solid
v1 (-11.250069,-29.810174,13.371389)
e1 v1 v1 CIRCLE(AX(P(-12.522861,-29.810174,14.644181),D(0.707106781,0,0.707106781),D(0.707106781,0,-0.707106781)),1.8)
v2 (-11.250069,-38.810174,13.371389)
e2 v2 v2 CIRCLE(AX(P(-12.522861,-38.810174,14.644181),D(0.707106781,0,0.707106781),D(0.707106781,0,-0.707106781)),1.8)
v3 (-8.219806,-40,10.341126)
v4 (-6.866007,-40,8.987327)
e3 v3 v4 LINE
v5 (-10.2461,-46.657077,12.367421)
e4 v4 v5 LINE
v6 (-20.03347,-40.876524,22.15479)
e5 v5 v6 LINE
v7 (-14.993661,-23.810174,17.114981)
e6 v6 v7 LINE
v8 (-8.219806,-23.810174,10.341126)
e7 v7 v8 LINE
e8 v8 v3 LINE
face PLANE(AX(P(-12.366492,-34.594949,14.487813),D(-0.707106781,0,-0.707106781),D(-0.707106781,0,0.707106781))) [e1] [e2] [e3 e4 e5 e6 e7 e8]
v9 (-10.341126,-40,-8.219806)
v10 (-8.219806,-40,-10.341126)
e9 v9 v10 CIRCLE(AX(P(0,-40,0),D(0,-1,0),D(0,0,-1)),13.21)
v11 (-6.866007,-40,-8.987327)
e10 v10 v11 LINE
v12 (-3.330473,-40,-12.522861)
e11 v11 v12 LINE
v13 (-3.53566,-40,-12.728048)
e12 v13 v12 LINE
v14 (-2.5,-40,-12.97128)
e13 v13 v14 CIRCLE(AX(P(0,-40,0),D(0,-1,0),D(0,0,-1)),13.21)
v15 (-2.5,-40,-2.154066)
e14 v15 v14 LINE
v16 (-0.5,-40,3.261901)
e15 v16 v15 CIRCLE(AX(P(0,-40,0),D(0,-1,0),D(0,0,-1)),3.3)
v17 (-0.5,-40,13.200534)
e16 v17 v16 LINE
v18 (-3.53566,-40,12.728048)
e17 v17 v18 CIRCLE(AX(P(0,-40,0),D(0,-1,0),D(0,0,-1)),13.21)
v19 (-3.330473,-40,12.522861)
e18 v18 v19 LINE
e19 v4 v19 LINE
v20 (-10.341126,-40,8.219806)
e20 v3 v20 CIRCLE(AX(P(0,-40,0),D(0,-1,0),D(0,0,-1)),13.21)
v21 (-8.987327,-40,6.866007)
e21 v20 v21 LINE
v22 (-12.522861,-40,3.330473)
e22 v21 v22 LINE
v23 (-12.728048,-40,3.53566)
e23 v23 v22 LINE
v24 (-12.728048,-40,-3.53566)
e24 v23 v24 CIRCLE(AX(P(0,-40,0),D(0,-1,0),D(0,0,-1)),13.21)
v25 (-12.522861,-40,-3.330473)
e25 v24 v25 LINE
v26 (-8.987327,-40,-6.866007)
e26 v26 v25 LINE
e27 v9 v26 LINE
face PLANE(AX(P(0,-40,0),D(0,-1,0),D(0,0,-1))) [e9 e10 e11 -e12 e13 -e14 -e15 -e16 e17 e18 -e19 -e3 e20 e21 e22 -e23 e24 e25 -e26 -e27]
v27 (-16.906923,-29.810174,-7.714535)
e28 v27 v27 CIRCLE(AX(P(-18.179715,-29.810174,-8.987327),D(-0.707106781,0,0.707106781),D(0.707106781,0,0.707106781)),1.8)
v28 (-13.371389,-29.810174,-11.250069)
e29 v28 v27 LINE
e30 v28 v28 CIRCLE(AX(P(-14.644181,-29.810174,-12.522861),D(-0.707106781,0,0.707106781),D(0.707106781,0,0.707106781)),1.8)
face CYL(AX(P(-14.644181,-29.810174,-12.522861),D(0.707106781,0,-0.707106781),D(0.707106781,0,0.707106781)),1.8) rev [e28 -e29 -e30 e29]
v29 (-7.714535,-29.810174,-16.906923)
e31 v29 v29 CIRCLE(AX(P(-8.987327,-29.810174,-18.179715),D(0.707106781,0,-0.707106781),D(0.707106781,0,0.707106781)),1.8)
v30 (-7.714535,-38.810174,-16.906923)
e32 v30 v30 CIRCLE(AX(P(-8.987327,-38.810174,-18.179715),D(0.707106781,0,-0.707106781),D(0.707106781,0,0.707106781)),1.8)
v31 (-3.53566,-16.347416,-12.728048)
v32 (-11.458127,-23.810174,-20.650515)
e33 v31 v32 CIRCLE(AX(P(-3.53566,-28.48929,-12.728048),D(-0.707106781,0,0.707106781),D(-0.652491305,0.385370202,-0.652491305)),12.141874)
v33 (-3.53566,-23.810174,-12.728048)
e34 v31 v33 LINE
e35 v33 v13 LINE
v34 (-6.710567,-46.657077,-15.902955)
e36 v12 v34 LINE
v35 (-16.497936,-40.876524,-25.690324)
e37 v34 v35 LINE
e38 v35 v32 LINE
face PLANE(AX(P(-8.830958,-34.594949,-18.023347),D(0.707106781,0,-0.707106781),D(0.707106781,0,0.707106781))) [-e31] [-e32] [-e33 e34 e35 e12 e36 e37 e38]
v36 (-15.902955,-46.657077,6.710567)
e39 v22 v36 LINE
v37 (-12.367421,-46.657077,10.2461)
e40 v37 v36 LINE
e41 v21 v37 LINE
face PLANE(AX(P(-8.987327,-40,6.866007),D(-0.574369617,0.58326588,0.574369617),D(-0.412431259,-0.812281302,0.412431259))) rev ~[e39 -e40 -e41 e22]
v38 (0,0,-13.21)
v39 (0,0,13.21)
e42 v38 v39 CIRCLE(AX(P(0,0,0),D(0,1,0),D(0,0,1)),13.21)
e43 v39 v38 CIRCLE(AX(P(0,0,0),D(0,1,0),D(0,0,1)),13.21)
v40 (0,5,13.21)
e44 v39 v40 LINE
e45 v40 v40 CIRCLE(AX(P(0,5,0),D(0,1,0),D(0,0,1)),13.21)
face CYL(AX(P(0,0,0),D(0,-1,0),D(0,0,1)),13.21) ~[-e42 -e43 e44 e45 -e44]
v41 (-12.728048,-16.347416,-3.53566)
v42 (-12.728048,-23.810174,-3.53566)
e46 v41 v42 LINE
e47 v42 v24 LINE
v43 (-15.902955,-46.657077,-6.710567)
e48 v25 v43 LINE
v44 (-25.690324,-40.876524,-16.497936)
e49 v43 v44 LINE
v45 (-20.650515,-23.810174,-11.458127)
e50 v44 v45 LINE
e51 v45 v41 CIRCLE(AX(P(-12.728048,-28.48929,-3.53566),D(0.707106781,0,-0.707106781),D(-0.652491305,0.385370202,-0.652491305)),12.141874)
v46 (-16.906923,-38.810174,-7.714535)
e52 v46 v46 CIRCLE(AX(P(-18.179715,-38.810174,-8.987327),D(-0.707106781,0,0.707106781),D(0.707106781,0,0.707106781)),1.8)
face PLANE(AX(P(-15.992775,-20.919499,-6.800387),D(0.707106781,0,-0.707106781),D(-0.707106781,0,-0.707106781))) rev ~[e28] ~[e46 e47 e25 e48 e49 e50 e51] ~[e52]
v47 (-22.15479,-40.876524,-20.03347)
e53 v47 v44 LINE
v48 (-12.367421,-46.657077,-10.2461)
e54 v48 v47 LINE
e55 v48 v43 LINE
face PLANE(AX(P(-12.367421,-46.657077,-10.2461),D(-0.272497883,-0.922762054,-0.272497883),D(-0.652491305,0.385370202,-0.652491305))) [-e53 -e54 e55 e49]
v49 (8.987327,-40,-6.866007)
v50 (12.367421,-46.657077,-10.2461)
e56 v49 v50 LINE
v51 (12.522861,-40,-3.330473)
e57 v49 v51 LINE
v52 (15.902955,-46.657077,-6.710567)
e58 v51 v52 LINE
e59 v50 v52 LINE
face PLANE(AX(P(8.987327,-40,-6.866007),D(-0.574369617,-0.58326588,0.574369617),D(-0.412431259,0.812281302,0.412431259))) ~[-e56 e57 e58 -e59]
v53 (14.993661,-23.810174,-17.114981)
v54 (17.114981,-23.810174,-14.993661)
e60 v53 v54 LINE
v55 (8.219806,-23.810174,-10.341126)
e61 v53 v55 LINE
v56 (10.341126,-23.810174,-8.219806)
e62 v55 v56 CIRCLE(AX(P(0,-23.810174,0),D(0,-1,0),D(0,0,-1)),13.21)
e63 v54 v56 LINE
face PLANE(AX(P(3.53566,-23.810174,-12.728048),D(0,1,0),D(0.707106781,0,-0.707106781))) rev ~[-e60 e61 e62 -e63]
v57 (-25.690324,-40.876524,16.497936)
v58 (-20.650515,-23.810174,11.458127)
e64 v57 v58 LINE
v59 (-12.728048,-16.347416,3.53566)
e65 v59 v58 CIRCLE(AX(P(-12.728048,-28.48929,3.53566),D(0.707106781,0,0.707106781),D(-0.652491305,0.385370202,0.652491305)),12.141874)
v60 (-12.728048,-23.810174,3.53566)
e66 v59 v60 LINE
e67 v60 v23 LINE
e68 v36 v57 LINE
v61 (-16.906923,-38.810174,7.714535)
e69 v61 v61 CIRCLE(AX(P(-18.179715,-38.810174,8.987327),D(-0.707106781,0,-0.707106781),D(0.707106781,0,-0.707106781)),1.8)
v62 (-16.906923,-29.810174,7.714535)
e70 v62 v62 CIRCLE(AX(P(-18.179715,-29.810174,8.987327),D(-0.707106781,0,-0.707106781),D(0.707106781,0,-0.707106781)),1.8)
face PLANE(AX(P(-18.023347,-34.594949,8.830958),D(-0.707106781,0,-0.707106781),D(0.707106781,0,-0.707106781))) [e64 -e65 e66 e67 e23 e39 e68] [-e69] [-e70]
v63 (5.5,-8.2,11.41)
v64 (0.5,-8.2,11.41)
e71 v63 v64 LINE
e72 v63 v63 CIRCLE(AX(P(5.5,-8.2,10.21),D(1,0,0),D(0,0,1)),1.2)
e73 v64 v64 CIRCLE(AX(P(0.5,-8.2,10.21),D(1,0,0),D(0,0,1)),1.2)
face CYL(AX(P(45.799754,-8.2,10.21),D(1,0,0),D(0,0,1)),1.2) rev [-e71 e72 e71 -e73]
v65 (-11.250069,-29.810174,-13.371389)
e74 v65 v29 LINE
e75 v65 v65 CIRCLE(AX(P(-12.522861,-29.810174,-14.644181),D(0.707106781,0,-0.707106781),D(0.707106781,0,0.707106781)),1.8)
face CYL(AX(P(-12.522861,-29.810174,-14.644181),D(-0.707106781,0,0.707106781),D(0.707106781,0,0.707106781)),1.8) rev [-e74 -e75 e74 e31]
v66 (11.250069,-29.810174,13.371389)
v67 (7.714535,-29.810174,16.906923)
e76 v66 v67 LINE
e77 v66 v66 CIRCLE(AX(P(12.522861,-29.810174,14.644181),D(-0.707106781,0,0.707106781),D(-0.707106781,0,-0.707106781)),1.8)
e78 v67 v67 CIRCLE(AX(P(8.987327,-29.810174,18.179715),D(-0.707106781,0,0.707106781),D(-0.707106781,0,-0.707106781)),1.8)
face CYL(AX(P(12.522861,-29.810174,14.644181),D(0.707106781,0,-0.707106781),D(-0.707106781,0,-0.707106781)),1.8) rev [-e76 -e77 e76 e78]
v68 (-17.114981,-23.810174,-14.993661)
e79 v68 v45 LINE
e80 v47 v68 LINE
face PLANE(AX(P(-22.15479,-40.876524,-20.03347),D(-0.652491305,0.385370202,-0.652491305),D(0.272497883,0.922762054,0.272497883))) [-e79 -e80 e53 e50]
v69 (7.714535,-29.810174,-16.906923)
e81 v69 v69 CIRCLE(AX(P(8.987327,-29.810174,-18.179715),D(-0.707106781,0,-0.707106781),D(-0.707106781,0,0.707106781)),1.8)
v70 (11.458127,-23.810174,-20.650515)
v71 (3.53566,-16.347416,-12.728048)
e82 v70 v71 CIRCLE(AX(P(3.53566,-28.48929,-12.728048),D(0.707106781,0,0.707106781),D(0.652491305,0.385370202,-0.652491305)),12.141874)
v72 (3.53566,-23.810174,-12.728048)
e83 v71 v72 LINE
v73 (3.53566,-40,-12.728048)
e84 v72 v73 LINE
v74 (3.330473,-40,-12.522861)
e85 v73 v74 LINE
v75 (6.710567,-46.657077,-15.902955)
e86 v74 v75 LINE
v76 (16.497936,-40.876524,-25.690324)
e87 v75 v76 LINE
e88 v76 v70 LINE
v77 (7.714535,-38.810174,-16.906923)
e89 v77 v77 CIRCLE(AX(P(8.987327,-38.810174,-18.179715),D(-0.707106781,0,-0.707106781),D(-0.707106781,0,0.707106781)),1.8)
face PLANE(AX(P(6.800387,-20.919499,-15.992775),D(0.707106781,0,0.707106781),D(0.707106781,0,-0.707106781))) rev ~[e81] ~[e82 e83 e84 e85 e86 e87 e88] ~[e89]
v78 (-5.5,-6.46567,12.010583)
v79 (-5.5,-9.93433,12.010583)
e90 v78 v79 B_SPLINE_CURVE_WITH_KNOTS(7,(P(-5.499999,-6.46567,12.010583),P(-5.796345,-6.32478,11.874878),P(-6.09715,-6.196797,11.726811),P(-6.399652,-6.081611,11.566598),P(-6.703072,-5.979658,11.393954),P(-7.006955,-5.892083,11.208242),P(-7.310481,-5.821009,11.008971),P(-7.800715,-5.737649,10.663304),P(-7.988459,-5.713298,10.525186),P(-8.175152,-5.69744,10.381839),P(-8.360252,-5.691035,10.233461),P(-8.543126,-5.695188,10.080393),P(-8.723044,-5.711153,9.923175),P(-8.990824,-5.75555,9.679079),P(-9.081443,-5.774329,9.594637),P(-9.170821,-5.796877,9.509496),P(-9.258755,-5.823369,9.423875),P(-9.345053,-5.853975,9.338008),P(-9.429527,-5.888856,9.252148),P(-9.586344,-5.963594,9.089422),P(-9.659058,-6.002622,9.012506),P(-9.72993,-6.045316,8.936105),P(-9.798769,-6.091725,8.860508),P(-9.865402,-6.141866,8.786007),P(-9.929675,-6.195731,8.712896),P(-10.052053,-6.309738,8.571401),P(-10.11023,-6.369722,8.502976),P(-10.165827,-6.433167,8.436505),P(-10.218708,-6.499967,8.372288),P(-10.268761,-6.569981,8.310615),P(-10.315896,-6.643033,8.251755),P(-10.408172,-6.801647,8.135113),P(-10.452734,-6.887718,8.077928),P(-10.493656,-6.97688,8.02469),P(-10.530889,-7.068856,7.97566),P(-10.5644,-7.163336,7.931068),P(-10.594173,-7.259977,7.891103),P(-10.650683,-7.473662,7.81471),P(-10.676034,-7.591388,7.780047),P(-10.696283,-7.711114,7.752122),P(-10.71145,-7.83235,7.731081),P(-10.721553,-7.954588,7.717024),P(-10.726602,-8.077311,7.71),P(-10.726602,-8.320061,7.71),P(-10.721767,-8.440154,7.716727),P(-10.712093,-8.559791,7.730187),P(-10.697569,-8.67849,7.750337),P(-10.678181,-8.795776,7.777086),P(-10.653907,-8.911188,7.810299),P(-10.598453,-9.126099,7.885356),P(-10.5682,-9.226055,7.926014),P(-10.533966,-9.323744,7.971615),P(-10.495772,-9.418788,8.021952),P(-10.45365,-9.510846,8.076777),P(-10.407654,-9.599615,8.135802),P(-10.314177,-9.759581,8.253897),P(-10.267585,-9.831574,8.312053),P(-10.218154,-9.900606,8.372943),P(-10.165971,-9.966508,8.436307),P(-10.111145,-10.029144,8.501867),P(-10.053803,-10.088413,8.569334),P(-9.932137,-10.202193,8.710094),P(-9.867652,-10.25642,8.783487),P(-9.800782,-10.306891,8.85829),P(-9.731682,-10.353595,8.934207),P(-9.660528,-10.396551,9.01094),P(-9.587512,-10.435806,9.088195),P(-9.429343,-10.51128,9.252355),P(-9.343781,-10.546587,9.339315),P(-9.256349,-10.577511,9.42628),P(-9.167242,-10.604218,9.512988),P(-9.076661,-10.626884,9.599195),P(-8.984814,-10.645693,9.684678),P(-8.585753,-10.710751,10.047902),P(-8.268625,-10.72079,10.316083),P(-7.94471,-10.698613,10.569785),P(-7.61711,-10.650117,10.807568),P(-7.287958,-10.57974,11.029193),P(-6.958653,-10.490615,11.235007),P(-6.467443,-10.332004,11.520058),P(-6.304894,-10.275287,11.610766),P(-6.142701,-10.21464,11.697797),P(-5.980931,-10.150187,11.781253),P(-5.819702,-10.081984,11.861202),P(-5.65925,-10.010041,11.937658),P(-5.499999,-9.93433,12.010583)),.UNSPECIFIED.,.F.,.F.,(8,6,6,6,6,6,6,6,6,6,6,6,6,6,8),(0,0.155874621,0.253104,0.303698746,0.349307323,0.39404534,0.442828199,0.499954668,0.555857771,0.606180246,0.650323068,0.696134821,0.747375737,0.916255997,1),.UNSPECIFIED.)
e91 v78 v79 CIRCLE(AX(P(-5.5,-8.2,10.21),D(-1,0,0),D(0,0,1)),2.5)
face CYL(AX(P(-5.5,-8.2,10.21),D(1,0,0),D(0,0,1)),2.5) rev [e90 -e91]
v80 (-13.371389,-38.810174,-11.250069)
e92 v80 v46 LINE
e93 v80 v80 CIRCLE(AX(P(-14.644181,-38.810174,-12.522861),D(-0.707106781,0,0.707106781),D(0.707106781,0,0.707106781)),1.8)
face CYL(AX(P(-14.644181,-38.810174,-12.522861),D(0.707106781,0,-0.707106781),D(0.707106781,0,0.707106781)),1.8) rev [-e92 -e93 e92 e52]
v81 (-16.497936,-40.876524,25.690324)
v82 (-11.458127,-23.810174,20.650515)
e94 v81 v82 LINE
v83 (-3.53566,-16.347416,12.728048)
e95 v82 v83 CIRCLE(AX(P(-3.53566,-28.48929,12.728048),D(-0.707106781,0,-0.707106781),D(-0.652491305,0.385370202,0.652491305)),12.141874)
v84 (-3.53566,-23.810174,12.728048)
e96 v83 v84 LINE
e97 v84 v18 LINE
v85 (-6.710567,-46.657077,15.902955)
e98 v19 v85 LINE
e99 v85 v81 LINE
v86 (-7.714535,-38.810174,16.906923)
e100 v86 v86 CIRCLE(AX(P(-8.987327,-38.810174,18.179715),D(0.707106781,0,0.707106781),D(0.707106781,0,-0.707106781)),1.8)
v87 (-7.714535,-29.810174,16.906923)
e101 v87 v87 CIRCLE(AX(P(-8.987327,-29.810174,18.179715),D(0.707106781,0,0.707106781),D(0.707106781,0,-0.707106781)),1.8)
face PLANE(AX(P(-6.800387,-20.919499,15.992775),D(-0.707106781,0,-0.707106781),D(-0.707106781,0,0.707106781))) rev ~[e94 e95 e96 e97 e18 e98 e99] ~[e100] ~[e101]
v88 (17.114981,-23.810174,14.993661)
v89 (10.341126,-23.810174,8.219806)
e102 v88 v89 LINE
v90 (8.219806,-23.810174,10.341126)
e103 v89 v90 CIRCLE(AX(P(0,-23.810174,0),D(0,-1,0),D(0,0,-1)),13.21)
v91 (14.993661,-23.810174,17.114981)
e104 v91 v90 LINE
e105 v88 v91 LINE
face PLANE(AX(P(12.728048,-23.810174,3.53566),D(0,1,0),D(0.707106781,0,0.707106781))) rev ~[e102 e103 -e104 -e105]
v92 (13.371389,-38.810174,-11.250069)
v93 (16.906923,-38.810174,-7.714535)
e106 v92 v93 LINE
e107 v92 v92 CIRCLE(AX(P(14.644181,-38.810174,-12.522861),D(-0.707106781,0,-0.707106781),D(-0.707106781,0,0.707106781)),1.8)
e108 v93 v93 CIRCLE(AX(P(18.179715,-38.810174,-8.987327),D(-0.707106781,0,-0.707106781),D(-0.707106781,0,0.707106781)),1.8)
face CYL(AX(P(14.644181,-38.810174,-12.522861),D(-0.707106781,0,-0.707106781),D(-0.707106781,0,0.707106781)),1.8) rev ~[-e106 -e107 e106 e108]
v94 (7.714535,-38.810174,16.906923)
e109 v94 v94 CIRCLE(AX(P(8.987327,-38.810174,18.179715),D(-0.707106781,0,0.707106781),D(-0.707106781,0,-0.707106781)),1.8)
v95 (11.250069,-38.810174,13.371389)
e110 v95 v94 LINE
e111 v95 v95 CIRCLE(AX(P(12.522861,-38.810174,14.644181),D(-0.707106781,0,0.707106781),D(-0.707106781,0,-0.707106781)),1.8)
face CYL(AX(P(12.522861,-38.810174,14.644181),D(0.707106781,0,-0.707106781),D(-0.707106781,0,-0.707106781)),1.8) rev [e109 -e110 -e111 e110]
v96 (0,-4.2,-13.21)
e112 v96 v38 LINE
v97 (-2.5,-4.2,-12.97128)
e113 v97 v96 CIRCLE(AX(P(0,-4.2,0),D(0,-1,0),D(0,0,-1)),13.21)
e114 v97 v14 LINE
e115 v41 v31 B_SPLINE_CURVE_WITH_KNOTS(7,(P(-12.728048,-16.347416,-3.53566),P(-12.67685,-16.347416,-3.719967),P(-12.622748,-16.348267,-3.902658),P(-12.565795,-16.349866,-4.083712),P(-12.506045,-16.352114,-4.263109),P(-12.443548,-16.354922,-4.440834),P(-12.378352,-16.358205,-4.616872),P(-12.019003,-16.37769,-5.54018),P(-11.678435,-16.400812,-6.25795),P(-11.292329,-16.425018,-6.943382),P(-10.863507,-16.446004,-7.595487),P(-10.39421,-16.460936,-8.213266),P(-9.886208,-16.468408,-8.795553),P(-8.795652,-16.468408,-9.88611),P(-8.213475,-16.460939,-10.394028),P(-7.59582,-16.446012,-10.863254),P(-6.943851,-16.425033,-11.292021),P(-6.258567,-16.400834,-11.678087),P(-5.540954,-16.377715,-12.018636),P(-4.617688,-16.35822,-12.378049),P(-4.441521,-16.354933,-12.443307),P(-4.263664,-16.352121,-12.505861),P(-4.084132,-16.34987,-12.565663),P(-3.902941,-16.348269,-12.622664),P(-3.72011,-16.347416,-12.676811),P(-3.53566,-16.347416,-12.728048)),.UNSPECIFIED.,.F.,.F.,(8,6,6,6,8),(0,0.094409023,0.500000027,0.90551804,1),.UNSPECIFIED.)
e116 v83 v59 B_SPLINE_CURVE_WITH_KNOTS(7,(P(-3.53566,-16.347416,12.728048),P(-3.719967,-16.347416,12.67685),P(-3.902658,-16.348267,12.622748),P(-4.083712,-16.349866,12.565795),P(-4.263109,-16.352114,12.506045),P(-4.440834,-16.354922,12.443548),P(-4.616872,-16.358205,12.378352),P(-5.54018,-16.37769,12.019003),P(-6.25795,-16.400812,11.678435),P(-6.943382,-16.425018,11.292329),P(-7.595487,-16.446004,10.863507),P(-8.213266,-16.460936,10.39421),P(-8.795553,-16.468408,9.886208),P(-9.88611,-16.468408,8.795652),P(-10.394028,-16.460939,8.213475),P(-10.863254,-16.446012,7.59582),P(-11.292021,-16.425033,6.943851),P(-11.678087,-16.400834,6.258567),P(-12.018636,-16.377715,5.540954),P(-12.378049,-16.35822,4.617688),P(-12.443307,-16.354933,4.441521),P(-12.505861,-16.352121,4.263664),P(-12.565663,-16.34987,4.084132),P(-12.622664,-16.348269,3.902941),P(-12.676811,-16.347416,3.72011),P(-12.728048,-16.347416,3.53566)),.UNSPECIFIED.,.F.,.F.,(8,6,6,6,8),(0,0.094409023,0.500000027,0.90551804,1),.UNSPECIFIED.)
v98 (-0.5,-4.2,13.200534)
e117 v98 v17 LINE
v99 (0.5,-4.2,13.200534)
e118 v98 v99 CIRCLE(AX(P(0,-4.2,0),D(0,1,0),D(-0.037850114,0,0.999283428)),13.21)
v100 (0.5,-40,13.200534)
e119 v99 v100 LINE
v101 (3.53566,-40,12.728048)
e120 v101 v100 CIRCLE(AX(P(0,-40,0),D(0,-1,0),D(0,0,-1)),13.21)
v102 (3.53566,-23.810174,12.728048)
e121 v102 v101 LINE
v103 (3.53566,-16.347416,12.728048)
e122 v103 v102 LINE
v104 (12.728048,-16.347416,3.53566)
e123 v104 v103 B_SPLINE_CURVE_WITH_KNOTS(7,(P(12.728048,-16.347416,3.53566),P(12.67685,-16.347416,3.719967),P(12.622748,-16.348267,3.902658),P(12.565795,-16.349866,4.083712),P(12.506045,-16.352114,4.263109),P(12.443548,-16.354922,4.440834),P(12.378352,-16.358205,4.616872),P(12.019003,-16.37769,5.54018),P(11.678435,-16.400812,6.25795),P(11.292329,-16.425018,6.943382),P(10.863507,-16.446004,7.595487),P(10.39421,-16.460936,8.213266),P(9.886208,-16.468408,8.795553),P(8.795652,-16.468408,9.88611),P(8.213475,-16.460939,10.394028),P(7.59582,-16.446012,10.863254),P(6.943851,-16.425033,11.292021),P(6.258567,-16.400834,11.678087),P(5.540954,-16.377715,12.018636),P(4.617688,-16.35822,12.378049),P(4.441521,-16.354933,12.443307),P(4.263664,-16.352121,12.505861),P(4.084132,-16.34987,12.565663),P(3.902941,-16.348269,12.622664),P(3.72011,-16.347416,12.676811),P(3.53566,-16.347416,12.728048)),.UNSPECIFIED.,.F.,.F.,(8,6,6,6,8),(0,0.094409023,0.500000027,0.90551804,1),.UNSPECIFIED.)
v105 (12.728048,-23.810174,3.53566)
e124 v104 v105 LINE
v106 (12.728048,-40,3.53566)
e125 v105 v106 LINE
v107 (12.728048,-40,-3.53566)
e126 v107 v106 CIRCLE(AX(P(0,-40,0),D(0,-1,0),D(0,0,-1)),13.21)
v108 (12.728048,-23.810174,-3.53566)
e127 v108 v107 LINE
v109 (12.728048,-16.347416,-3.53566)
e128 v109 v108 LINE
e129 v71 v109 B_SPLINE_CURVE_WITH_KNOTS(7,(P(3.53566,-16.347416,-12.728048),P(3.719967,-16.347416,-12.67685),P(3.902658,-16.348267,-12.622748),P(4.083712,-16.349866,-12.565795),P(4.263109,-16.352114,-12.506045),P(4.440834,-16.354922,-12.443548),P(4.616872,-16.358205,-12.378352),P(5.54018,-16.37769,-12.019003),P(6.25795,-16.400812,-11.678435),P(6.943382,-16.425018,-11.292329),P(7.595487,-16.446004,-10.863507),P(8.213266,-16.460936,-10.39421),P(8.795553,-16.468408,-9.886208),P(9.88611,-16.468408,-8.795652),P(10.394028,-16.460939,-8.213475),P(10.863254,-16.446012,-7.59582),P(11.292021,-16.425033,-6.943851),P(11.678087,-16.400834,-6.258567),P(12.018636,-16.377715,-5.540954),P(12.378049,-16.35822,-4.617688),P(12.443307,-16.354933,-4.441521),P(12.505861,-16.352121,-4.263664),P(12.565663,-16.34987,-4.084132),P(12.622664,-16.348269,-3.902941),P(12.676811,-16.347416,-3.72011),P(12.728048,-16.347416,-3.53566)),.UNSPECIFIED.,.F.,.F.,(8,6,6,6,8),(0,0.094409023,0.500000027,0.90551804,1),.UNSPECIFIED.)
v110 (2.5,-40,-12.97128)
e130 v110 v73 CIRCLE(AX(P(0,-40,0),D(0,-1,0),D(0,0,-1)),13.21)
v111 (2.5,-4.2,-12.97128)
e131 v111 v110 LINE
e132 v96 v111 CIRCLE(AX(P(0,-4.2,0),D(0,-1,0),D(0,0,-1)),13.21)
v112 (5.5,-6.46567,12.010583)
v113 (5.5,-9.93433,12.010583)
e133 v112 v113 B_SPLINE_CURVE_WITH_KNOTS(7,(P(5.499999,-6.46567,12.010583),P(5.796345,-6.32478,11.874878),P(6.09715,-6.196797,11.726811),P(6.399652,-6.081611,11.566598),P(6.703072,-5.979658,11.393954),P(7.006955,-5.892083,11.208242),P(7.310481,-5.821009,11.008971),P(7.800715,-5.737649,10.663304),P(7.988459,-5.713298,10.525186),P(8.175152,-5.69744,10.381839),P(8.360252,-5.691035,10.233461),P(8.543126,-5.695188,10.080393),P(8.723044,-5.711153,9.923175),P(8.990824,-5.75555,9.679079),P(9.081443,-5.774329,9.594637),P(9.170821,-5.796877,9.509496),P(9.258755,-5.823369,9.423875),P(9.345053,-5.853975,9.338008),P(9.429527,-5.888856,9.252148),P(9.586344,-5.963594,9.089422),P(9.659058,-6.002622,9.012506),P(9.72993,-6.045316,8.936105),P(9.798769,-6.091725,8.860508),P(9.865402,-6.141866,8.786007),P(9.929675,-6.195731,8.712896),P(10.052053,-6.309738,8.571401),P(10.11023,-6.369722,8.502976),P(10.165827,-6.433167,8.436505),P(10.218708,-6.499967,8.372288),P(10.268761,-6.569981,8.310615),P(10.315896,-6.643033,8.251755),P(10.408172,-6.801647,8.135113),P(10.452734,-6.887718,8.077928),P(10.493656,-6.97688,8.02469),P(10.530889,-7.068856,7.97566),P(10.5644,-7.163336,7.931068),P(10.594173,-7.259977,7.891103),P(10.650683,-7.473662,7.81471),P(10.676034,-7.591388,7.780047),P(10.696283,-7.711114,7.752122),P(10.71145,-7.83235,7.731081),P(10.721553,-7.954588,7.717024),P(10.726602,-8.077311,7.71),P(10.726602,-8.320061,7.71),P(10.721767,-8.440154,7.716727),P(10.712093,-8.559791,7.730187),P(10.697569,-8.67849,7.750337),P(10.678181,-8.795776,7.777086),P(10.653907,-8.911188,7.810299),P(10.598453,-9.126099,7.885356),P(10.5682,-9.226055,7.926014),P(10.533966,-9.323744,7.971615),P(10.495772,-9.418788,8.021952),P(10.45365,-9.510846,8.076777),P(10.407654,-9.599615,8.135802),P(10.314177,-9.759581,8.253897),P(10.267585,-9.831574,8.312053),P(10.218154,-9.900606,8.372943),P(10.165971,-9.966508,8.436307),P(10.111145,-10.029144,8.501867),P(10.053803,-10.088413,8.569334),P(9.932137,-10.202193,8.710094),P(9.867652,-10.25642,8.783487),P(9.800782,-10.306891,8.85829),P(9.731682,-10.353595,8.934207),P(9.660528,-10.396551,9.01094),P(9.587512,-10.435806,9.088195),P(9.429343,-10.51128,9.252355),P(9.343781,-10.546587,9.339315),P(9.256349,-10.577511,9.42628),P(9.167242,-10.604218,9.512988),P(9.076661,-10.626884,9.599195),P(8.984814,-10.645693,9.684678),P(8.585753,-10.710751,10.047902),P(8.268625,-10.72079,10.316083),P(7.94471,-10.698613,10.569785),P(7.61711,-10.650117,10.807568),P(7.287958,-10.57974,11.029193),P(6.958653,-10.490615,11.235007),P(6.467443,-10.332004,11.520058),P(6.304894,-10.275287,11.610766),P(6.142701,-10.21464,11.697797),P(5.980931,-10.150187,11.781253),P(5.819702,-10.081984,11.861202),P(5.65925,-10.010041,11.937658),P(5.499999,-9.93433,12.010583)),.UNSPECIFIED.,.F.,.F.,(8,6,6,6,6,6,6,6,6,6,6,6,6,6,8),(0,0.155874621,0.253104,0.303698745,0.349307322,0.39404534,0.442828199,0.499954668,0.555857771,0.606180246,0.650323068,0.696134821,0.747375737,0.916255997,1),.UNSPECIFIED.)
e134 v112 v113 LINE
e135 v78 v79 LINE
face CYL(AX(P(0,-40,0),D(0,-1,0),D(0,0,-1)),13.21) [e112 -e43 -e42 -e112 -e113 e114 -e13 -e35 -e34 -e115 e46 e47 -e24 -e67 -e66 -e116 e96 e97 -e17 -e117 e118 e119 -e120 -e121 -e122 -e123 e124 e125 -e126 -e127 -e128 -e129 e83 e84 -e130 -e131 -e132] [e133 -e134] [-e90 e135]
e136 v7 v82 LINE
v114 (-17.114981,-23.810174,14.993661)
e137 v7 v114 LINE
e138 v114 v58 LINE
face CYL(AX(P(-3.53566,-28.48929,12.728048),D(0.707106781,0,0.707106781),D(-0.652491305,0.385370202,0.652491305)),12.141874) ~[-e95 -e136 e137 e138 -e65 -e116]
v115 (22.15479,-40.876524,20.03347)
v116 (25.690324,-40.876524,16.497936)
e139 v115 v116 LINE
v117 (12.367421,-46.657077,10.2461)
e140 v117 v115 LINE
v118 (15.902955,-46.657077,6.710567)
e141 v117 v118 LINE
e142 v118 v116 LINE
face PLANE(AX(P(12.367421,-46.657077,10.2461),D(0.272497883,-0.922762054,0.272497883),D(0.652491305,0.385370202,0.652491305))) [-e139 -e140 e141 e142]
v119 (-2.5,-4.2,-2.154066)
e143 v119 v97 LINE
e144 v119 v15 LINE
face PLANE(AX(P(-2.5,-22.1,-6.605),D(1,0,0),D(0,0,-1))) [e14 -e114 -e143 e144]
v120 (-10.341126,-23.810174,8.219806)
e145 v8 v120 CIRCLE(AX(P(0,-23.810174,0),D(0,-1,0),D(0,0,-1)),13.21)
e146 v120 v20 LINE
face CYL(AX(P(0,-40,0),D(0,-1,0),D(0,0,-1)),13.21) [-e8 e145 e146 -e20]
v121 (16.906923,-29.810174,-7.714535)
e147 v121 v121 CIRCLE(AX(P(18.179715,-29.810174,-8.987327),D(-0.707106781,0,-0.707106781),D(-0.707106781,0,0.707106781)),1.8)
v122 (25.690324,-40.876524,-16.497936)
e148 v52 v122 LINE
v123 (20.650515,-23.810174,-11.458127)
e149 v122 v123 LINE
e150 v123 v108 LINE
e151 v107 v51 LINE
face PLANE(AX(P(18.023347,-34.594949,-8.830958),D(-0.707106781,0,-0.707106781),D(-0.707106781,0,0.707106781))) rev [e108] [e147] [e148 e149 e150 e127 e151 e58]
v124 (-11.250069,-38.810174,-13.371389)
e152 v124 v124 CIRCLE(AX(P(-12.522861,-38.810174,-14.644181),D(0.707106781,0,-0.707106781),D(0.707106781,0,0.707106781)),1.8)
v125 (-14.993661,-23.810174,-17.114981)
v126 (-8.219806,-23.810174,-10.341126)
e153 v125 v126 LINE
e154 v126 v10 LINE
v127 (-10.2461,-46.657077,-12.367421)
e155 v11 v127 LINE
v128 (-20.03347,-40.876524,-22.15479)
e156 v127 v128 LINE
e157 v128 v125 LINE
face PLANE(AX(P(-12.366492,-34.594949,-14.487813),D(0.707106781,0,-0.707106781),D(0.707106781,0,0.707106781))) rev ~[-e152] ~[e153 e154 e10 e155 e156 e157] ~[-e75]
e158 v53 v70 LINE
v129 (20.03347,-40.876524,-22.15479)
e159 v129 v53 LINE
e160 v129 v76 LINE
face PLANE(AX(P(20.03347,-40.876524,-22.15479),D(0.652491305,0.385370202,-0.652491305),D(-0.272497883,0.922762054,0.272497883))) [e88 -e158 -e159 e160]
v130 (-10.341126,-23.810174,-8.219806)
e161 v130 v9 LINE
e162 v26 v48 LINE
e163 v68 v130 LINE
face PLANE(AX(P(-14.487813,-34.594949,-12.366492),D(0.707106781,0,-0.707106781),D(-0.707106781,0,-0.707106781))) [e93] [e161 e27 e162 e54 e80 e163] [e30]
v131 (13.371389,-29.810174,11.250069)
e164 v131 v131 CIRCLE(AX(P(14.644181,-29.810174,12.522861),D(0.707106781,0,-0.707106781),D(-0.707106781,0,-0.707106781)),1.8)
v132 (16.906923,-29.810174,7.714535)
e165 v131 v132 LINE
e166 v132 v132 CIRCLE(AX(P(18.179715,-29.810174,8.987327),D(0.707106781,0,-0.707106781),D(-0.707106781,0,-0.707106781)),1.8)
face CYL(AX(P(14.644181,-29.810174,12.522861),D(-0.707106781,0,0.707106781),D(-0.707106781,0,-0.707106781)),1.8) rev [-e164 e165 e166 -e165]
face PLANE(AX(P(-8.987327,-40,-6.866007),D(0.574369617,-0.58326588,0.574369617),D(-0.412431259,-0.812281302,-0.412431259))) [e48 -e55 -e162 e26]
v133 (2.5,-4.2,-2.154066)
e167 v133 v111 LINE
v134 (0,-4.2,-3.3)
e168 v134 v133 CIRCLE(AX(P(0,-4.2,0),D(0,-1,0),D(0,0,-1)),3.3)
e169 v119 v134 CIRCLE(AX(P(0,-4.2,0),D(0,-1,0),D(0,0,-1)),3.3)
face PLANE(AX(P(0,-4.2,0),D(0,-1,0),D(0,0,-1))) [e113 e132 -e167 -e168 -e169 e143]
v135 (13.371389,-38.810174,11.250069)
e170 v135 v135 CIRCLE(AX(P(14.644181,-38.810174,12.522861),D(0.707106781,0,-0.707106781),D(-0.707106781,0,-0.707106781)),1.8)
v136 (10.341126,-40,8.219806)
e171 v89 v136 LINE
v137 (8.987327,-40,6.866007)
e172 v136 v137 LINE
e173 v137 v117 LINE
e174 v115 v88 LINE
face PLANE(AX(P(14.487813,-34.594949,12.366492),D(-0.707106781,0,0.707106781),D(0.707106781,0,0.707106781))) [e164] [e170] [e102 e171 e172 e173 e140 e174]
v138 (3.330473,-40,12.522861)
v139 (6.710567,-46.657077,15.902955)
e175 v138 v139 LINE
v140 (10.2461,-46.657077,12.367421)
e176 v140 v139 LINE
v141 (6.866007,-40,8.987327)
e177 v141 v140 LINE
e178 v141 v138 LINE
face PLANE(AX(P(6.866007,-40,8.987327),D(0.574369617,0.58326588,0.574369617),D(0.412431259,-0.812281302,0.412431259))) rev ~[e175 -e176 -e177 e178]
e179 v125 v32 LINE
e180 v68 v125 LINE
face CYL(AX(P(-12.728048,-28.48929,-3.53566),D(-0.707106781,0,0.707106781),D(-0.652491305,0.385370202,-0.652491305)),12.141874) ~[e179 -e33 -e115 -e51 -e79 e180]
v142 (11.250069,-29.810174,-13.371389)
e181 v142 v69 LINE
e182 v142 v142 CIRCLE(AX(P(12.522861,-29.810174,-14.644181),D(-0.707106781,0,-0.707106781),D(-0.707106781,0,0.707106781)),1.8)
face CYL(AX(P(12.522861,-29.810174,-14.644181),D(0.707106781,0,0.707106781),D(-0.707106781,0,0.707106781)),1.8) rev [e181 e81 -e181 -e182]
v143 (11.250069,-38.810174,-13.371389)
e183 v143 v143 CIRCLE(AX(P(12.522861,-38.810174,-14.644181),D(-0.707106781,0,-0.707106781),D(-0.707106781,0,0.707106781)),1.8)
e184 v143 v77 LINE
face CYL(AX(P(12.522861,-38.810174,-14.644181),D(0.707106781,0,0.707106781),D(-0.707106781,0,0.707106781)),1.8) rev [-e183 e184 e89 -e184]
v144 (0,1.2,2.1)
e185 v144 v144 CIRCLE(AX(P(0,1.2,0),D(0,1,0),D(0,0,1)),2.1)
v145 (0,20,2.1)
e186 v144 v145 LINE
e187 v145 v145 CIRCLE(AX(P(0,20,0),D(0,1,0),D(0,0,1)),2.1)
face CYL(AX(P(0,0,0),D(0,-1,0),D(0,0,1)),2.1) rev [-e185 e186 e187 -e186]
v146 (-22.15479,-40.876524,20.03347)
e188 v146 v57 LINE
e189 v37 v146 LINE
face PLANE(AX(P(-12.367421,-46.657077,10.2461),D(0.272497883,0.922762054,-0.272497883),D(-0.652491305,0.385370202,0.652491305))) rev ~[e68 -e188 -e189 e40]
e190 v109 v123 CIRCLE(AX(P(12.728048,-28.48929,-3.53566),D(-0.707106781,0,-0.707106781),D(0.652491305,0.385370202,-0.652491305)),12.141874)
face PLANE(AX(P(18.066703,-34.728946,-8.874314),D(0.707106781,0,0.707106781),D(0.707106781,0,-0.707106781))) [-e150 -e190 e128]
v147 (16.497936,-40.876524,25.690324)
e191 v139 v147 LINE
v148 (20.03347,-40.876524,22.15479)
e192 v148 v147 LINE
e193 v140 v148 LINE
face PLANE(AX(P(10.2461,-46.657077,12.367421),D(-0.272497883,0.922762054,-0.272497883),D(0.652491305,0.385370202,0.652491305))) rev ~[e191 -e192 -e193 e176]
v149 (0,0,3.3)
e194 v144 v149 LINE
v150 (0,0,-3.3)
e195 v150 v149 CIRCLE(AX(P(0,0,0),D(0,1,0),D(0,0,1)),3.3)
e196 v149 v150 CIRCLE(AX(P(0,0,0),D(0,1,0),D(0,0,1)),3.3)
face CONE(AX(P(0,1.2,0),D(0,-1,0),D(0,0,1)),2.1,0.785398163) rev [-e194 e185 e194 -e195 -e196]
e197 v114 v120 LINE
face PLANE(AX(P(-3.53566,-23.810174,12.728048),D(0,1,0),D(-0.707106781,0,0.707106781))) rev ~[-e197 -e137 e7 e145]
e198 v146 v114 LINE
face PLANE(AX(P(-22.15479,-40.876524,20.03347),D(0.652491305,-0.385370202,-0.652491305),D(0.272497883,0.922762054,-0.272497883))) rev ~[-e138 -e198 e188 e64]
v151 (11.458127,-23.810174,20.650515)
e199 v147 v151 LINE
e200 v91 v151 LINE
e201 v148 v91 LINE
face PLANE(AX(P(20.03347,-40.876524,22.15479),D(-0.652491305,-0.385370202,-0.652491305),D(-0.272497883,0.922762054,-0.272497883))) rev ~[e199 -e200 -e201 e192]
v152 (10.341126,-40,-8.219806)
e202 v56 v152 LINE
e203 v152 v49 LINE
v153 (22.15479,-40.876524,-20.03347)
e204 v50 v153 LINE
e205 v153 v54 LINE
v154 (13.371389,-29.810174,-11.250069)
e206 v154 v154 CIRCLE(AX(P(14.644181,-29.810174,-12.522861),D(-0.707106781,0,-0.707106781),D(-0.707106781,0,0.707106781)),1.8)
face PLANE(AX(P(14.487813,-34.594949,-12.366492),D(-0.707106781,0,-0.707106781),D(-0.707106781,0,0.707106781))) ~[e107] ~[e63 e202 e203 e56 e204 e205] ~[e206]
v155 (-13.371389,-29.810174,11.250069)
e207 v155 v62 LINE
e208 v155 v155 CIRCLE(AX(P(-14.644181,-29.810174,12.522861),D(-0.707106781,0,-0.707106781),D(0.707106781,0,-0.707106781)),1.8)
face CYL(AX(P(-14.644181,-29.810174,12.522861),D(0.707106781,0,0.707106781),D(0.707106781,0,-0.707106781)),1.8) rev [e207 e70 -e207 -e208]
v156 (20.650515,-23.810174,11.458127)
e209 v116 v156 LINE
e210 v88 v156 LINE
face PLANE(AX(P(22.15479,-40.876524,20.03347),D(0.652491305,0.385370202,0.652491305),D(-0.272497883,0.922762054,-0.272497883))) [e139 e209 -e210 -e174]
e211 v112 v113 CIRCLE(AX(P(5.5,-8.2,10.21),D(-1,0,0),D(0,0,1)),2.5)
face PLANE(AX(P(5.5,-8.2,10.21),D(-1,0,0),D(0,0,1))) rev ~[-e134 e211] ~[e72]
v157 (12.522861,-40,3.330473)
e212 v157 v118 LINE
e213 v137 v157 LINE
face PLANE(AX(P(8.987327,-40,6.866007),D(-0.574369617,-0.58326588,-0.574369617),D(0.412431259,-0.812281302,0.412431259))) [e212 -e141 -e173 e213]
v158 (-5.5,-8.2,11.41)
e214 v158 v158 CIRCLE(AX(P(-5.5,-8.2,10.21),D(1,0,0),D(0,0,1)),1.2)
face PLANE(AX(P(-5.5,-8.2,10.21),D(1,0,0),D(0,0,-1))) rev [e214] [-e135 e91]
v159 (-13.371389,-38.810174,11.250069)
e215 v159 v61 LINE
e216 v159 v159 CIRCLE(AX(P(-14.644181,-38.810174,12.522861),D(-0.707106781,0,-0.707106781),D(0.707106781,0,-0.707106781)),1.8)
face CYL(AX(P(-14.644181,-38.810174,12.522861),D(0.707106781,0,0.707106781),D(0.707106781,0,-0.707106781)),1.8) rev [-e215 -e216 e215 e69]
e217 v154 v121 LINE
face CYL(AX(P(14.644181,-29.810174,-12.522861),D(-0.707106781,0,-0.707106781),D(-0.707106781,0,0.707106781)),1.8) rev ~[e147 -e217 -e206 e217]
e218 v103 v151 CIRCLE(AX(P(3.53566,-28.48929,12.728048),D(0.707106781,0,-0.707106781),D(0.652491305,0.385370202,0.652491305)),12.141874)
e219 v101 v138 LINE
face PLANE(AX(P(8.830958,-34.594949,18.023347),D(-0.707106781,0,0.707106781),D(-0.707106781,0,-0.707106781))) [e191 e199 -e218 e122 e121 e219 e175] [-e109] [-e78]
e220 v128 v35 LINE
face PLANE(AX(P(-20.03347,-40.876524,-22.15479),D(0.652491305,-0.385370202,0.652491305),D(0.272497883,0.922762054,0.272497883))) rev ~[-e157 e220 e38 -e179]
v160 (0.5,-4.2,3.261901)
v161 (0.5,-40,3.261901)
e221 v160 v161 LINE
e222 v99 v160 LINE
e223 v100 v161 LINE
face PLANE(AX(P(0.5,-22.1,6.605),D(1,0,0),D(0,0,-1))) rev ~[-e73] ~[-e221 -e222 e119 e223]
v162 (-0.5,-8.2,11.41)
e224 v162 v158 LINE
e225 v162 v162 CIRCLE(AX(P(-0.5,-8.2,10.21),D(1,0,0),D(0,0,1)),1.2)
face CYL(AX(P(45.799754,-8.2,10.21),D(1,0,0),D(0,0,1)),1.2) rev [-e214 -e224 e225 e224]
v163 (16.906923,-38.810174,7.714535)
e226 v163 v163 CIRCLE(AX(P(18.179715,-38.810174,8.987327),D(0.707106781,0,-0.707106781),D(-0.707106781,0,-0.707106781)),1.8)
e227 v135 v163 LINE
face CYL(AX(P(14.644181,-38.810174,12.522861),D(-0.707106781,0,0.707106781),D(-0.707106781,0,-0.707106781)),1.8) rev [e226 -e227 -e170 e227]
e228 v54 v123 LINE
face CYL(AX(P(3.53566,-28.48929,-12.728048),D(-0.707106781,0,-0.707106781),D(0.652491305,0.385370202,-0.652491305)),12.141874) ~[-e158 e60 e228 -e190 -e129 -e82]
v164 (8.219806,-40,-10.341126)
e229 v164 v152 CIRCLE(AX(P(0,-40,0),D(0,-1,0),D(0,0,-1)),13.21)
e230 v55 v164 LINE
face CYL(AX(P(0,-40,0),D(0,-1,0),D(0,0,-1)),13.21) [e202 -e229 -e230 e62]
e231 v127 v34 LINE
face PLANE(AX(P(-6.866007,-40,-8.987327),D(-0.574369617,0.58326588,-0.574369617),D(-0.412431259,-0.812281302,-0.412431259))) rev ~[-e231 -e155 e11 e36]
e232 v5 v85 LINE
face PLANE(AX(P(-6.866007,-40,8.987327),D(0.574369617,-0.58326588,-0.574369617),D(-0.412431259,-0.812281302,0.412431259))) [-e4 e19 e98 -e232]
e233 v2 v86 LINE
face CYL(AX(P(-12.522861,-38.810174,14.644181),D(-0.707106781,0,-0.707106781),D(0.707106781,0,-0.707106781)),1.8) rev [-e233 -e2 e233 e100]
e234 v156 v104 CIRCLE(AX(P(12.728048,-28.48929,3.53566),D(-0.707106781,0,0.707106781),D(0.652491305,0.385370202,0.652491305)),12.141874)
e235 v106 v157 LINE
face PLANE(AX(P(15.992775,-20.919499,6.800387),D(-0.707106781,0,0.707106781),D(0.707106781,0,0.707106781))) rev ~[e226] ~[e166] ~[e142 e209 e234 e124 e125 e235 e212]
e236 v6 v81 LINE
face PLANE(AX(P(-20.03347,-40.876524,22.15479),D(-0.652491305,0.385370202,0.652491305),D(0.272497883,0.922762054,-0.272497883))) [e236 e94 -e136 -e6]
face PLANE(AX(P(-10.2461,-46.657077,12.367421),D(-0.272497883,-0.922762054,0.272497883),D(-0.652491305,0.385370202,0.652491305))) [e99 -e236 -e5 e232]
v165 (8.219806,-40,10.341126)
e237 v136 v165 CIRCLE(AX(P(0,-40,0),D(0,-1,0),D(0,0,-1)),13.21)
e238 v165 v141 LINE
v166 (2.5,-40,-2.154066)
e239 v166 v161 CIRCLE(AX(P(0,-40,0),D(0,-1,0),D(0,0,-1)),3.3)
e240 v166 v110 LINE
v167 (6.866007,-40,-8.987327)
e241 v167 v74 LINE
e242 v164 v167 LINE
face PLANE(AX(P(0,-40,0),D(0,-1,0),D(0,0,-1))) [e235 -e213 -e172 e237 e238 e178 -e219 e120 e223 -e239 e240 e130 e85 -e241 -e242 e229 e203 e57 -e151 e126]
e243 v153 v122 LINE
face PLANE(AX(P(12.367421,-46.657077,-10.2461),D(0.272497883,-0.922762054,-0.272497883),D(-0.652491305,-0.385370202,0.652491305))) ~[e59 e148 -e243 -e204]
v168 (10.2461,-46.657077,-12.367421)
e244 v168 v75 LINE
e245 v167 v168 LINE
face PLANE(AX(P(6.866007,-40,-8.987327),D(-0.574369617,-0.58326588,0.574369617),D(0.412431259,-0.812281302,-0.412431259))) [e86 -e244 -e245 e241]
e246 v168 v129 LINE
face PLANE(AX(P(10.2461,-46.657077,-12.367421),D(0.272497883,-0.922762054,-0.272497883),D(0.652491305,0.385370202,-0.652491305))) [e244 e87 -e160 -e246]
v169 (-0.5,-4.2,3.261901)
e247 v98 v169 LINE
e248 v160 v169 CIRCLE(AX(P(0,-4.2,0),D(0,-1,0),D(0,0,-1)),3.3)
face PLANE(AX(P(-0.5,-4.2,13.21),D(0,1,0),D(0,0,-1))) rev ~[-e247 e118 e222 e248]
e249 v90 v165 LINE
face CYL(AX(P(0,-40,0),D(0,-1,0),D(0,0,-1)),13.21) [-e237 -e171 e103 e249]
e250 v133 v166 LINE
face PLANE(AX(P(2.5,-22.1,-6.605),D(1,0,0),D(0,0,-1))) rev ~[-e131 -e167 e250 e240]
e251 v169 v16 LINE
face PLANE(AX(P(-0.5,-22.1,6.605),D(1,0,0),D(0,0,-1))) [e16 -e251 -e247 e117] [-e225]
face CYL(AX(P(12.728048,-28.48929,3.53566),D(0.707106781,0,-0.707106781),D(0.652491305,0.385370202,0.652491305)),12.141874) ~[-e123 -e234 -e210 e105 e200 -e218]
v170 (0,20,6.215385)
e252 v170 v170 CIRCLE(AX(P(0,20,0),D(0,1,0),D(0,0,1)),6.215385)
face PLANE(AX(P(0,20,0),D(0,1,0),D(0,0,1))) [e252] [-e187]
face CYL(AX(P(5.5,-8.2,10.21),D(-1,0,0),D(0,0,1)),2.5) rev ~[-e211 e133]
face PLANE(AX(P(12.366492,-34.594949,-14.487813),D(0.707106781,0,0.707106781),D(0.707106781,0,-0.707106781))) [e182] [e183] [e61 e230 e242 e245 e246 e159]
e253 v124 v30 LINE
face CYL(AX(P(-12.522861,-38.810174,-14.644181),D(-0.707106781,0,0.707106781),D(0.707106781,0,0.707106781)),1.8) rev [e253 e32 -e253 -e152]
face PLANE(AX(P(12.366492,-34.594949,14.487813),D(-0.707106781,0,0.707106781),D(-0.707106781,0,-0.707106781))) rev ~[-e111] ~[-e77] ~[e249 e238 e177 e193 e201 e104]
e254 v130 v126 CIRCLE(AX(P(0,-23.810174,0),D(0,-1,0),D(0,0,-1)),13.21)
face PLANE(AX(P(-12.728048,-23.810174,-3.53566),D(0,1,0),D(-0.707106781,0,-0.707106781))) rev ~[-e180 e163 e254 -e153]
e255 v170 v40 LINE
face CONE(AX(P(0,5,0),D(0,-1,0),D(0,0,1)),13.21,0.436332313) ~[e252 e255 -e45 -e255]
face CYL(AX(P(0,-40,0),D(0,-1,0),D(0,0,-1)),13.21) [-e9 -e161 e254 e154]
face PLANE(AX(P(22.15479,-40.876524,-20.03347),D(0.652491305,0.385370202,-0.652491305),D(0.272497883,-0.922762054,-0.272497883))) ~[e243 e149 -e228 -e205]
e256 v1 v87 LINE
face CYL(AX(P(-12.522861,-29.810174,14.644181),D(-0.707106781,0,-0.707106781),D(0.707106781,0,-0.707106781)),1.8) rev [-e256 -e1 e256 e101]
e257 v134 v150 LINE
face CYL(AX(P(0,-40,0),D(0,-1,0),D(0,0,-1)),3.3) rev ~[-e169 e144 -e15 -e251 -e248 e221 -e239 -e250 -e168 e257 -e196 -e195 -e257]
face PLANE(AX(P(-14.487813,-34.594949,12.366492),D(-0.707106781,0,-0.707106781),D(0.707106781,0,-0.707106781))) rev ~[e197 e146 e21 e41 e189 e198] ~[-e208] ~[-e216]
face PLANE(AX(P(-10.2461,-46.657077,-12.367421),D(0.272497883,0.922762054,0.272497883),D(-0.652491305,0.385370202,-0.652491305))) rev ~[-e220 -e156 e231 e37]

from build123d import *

# Parameters (mm, degrees)
SKETCH1_R                   = 13.21
SKETCH1_R_2                 = 2.1
BOSS_EXTRUDE1_DEPTH         = 20
CHAMFER1_SIZE               = 1.2
BOSS_EXTRUDE5_START         = 40
SKETCH7_R                   = 13.21
SKETCH7_R_2                 = 3.3
BOSS_EXTRUDE5_DEPTH         = 40
CUT_EXTRUDE3_START          = -0.5
SKETCH8_W                   = 13.21
SKETCH8_H                   = 35.8
CUT_EXTRUDE3_DEPTH          = 1
SKETCH11_W                  = 13.21
SKETCH11_H                  = 35.8
CUT_EXTRUDE5_DEPTH          = 2.5
CUT_EXTRUDE6_DEPTH          = 45.29975395
CUT_EXTRUDE6_DEPTH_BACK     = 45.29975395
SKETCH12_R                  = 1.2
SKETCH13_R                  = 2.5
CUT_EXTRUDE7_DEPTH          = 47.093038676
SKETCH15_R                  = 1.8
BOSS_EXTRUDE6_DEPTH         = 5
BOSS_EXTRUDE7_REACH         = 61.49
CIRPATTERN2_COUNT           = 4
CIRPATTERN2_COPY_1_SKETCH_R = 1.8
CIRPATTERN2_COPY_1_DEPTH    = 5
CIRPATTERN2_COPY_2_SKETCH_R = 1.8
CIRPATTERN2_COPY_2_DEPTH    = 5
CIRPATTERN2_COPY_3_SKETCH_R = 1.8
CIRPATTERN2_COPY_3_DEPTH    = 5
CHAMFER2_SIZE               = 6.994614872
CHAMFER2_SIZE2              = 15


with BuildPart() as part:
    # Sketch1 → Boss-Extrude1 (new body)
    with BuildSketch(Plane(origin=(0, 0, 0), x_dir=(1, 0, 0), z_dir=(0, 1, 0))):
        with Locations(Location((0, 0, 0), (0, 0, 270))):
            Circle(SKETCH1_R)
        with Locations(Location((0, 0, 0), (0, 0, 270))):
            Circle(SKETCH1_R_2, mode=Mode.SUBTRACT)
    extrude(amount=BOSS_EXTRUDE1_DEPTH)

    # Chamfer1
    chamfer1_edges = [part.edges().sort_by_distance(p)[0] for p in [
        (0, 0, -2.1),
    ]]
    chamfer(chamfer1_edges, length=CHAMFER1_SIZE)

    # Sketch7 → Boss-Extrude5 (add)
    with BuildSketch(Plane.XZ.offset(BOSS_EXTRUDE5_START)):
        with Locations(Location((0, 0, 0), (0, 0, 270))):
            Circle(SKETCH7_R)
        with Locations(Location((0, 0, 0), (0, 0, 270))):
            Circle(SKETCH7_R_2, mode=Mode.SUBTRACT)
    extrude(amount=-BOSS_EXTRUDE5_DEPTH)

    # Sketch8 → Cut-Extrude3 (cut)
    with BuildSketch(Plane(origin=(0, 0, 0), x_dir=(0, 0, -1), z_dir=(1, 0, 0)).offset(CUT_EXTRUDE3_START)):
        with Locations((-6.605, -22.1)):
            Rectangle(SKETCH8_W, SKETCH8_H)
    extrude(amount=CUT_EXTRUDE3_DEPTH, mode=Mode.SUBTRACT)

    # Sketch11 → Cut-Extrude5 (cut, symmetric)
    with BuildSketch(Plane(origin=(0, 0, 0), x_dir=(0, 0, -1), z_dir=(1, 0, 0))):
        with Locations((6.605, -22.1)):
            Rectangle(SKETCH11_W, SKETCH11_H)
    extrude(amount=CUT_EXTRUDE5_DEPTH, both=True, mode=Mode.SUBTRACT)

    # Sketch12 → Cut-Extrude6 (cut, two sides: drawn at the far end of the back side and taken through both)
    with BuildSketch(Plane.ZY.offset(-0.5).offset(-CUT_EXTRUDE6_DEPTH_BACK)):
        with Locations((10.21, -8.2)):
            Circle(SKETCH12_R)
    extrude(amount=CUT_EXTRUDE6_DEPTH + CUT_EXTRUDE6_DEPTH_BACK, mode=Mode.SUBTRACT)

    # Sketch13 → Cut-Extrude7 (cut, through all)
    with BuildSketch(Plane.ZY.offset(-5.5)):
        with Locations((10.21, -8.2)):
            Circle(SKETCH13_R)
    cut_extrude7 = extrude(amount=-CUT_EXTRUDE7_DEPTH, mode=Mode.SUBTRACT)

    # Mirror2: Cut-Extrude7 across plane
    add(cut_extrude7.mirror(Plane(origin=(0, 0, 0), x_dir=(0, 0, 1), z_dir=(1, 0, 0))), mode=Mode.SUBTRACT)

    # Sketch15 → Boss-Extrude6 (add)
    with BuildSketch(Plane(origin=(-1.060660172, 0, -1.060660172), x_dir=(-0.7071067811865488, -3.372135297382167e-15, 0.7071067811865462), z_dir=(-0.7071067811865462, 3.3721352973821793e-15, -0.7071067811865488))):
        Polygon((-22.70423895, -23.81017386), (-11.21, -23.81017386), (-11.21, -35.211035784), (-11.21, -40), (-15.990174244, -46.657077484), (-29.831605047, -40.876524454), align=None)
        with Locations((-19.21, -29.81017386)):
            Circle(SKETCH15_R, mode=Mode.SUBTRACT)
        with Locations((-19.21, -38.81017386)):
            Circle(SKETCH15_R, mode=Mode.SUBTRACT)
    boss_extrude6 = extrude(amount=BOSS_EXTRUDE6_DEPTH)

    # Mirror3: Boss-Extrude6 across plane
    add(boss_extrude6.mirror(Plane(origin=(0, 0, 0), x_dir=(-0.7071067811865488, 3.3721352973821916e-15, 0.7071067811865464), z_dir=(0.7071067811865462, -3.3721352973821793e-15, 0.7071067811865488))))

    # Boss-Extrude7: up to this face of the body (flat: up to its plane)
    boss_extrude7_end = Plane(part.part.faces().sort_by_distance((18.066702505, -34.728946199, -8.87431435))[0])
    # Sketch16 → Boss-Extrude7 (add, up to the picked face)
    with BuildSketch(Plane(origin=(-4.596194078, 0, -4.596194078), x_dir=(-0.7071067811865486, -3.1363800445660566e-15, 0.7071067811865465), z_dir=(-0.7071067811865465, 3.1363800445660664e-15, -0.7071067811865486)), mode=Mode.PRIVATE) as boss_extrude7_sk1:
        with BuildLine():
            Line((-11.500178259, -23.81017386), (-22.70423895, -23.81017386))
            ThreePointArc((-22.70423895, -23.81017386), (-18.231146382, -18.383887076), (-11.500178259, -16.347416226))
            Line((-11.500178259, -16.347416226), (-11.500178259, -23.81017386))
        make_face()
    boss_extrude7_tool1 = split(extrude(boss_extrude7_sk1.sketch, amount=-BOSS_EXTRUDE7_REACH, mode=Mode.PRIVATE), bisect_by=boss_extrude7_end, keep=Keep.BOTH, mode=Mode.PRIVATE)
    boss_extrude7 = boss_extrude7_tool1.solids().sort_by(Axis((6.682248, -20.729124, -15.874636), (0.7071067811865465, -3.1363800445660664e-15, 0.7071067811865486)))[0]
    add(boss_extrude7)

    # CirPattern2: Boss-Extrude6, Boss-Extrude7 ×4 about axis
    cirpattern2_axis = Axis((0, 0, 0), (0, 1, 0))
    add([boss_extrude6.rotate(cirpattern2_axis, i * 360 / CIRPATTERN2_COUNT) for i in range(1, CIRPATTERN2_COUNT)])
    add([boss_extrude7.rotate(cirpattern2_axis, i * 360 / CIRPATTERN2_COUNT) for i in range(1, CIRPATTERN2_COUNT)])

    # CirPattern2 copy 1 sketch → CirPattern2 copy 1 (add)
    with BuildSketch(Plane(origin=(1.060660172, 0, -1.060660172), x_dir=(0.7071067811865462, -3.372135297382167e-15, 0.7071067811865489), z_dir=(0.7071067811865488, -3.3721352973821793e-15, -0.7071067811865461))):
        Polygon((-22.70423895, 23.81017386), (-11.21, 23.81017386), (-11.21, 35.211035784), (-11.21, 40), (-15.990174244, 46.657077484), (-29.831605047, 40.876524454), align=None)
        with Locations((-19.21, 29.81017386)):
            Circle(CIRPATTERN2_COPY_1_SKETCH_R, mode=Mode.SUBTRACT)
        with Locations((-19.21, 38.81017386)):
            Circle(CIRPATTERN2_COPY_1_SKETCH_R, mode=Mode.SUBTRACT)
    extrude(amount=CIRPATTERN2_COPY_1_DEPTH)

    # CirPattern2 copy 2 sketch → CirPattern2 copy 2 (add)
    with BuildSketch(Plane(origin=(-1.060660172, 0, -1.060660172), x_dir=(0.7071067811865489, -3.372135297382167e-15, -0.7071067811865462), z_dir=(-0.7071067811865461, -3.3721352973821793e-15, -0.7071067811865488))):
        Polygon((-22.70423895, 23.81017386), (-11.21, 23.81017386), (-11.21, 35.211035784), (-11.21, 40), (-15.990174244, 46.657077484), (-29.831605047, 40.876524454), align=None)
        with Locations((-19.21, 29.81017386)):
            Circle(CIRPATTERN2_COPY_2_SKETCH_R, mode=Mode.SUBTRACT)
        with Locations((-19.21, 38.81017386)):
            Circle(CIRPATTERN2_COPY_2_SKETCH_R, mode=Mode.SUBTRACT)
    extrude(amount=CIRPATTERN2_COPY_2_DEPTH)

    # CirPattern2 copy 3 sketch → CirPattern2 copy 3 (add)
    with BuildSketch(Plane(origin=(-1.060660172, 0, 1.060660172), x_dir=(-0.7071067811865461, -3.372135297382167e-15, -0.707106781186549), z_dir=(-0.7071067811865489, -3.3721352973821793e-15, 0.707106781186546))):
        Polygon((-22.70423895, 23.81017386), (-11.21, 23.81017386), (-11.21, 35.211035784), (-11.21, 40), (-15.990174244, 46.657077484), (-29.831605047, 40.876524454), align=None)
        with Locations((-19.21, 29.81017386)):
            Circle(CIRPATTERN2_COPY_3_SKETCH_R, mode=Mode.SUBTRACT)
        with Locations((-19.21, 38.81017386)):
            Circle(CIRPATTERN2_COPY_3_SKETCH_R, mode=Mode.SUBTRACT)
    extrude(amount=CIRPATTERN2_COPY_3_DEPTH)

    # Chamfer2
    chamfer2_edges = [part.edges().sort_by_distance(p)[0] for p in [
        (0, 20, -13.21),
    ]]
    chamfer2_side = [part.faces().sort_by_distance(p)[0] for p in [
        (0, 20, -12.836364777),
    ]]
    chamfer(chamfer2_edges, length=CHAMFER2_SIZE, length2=CHAMFER2_SIZE2, reference=chamfer2_side[0])


solid = part.part
